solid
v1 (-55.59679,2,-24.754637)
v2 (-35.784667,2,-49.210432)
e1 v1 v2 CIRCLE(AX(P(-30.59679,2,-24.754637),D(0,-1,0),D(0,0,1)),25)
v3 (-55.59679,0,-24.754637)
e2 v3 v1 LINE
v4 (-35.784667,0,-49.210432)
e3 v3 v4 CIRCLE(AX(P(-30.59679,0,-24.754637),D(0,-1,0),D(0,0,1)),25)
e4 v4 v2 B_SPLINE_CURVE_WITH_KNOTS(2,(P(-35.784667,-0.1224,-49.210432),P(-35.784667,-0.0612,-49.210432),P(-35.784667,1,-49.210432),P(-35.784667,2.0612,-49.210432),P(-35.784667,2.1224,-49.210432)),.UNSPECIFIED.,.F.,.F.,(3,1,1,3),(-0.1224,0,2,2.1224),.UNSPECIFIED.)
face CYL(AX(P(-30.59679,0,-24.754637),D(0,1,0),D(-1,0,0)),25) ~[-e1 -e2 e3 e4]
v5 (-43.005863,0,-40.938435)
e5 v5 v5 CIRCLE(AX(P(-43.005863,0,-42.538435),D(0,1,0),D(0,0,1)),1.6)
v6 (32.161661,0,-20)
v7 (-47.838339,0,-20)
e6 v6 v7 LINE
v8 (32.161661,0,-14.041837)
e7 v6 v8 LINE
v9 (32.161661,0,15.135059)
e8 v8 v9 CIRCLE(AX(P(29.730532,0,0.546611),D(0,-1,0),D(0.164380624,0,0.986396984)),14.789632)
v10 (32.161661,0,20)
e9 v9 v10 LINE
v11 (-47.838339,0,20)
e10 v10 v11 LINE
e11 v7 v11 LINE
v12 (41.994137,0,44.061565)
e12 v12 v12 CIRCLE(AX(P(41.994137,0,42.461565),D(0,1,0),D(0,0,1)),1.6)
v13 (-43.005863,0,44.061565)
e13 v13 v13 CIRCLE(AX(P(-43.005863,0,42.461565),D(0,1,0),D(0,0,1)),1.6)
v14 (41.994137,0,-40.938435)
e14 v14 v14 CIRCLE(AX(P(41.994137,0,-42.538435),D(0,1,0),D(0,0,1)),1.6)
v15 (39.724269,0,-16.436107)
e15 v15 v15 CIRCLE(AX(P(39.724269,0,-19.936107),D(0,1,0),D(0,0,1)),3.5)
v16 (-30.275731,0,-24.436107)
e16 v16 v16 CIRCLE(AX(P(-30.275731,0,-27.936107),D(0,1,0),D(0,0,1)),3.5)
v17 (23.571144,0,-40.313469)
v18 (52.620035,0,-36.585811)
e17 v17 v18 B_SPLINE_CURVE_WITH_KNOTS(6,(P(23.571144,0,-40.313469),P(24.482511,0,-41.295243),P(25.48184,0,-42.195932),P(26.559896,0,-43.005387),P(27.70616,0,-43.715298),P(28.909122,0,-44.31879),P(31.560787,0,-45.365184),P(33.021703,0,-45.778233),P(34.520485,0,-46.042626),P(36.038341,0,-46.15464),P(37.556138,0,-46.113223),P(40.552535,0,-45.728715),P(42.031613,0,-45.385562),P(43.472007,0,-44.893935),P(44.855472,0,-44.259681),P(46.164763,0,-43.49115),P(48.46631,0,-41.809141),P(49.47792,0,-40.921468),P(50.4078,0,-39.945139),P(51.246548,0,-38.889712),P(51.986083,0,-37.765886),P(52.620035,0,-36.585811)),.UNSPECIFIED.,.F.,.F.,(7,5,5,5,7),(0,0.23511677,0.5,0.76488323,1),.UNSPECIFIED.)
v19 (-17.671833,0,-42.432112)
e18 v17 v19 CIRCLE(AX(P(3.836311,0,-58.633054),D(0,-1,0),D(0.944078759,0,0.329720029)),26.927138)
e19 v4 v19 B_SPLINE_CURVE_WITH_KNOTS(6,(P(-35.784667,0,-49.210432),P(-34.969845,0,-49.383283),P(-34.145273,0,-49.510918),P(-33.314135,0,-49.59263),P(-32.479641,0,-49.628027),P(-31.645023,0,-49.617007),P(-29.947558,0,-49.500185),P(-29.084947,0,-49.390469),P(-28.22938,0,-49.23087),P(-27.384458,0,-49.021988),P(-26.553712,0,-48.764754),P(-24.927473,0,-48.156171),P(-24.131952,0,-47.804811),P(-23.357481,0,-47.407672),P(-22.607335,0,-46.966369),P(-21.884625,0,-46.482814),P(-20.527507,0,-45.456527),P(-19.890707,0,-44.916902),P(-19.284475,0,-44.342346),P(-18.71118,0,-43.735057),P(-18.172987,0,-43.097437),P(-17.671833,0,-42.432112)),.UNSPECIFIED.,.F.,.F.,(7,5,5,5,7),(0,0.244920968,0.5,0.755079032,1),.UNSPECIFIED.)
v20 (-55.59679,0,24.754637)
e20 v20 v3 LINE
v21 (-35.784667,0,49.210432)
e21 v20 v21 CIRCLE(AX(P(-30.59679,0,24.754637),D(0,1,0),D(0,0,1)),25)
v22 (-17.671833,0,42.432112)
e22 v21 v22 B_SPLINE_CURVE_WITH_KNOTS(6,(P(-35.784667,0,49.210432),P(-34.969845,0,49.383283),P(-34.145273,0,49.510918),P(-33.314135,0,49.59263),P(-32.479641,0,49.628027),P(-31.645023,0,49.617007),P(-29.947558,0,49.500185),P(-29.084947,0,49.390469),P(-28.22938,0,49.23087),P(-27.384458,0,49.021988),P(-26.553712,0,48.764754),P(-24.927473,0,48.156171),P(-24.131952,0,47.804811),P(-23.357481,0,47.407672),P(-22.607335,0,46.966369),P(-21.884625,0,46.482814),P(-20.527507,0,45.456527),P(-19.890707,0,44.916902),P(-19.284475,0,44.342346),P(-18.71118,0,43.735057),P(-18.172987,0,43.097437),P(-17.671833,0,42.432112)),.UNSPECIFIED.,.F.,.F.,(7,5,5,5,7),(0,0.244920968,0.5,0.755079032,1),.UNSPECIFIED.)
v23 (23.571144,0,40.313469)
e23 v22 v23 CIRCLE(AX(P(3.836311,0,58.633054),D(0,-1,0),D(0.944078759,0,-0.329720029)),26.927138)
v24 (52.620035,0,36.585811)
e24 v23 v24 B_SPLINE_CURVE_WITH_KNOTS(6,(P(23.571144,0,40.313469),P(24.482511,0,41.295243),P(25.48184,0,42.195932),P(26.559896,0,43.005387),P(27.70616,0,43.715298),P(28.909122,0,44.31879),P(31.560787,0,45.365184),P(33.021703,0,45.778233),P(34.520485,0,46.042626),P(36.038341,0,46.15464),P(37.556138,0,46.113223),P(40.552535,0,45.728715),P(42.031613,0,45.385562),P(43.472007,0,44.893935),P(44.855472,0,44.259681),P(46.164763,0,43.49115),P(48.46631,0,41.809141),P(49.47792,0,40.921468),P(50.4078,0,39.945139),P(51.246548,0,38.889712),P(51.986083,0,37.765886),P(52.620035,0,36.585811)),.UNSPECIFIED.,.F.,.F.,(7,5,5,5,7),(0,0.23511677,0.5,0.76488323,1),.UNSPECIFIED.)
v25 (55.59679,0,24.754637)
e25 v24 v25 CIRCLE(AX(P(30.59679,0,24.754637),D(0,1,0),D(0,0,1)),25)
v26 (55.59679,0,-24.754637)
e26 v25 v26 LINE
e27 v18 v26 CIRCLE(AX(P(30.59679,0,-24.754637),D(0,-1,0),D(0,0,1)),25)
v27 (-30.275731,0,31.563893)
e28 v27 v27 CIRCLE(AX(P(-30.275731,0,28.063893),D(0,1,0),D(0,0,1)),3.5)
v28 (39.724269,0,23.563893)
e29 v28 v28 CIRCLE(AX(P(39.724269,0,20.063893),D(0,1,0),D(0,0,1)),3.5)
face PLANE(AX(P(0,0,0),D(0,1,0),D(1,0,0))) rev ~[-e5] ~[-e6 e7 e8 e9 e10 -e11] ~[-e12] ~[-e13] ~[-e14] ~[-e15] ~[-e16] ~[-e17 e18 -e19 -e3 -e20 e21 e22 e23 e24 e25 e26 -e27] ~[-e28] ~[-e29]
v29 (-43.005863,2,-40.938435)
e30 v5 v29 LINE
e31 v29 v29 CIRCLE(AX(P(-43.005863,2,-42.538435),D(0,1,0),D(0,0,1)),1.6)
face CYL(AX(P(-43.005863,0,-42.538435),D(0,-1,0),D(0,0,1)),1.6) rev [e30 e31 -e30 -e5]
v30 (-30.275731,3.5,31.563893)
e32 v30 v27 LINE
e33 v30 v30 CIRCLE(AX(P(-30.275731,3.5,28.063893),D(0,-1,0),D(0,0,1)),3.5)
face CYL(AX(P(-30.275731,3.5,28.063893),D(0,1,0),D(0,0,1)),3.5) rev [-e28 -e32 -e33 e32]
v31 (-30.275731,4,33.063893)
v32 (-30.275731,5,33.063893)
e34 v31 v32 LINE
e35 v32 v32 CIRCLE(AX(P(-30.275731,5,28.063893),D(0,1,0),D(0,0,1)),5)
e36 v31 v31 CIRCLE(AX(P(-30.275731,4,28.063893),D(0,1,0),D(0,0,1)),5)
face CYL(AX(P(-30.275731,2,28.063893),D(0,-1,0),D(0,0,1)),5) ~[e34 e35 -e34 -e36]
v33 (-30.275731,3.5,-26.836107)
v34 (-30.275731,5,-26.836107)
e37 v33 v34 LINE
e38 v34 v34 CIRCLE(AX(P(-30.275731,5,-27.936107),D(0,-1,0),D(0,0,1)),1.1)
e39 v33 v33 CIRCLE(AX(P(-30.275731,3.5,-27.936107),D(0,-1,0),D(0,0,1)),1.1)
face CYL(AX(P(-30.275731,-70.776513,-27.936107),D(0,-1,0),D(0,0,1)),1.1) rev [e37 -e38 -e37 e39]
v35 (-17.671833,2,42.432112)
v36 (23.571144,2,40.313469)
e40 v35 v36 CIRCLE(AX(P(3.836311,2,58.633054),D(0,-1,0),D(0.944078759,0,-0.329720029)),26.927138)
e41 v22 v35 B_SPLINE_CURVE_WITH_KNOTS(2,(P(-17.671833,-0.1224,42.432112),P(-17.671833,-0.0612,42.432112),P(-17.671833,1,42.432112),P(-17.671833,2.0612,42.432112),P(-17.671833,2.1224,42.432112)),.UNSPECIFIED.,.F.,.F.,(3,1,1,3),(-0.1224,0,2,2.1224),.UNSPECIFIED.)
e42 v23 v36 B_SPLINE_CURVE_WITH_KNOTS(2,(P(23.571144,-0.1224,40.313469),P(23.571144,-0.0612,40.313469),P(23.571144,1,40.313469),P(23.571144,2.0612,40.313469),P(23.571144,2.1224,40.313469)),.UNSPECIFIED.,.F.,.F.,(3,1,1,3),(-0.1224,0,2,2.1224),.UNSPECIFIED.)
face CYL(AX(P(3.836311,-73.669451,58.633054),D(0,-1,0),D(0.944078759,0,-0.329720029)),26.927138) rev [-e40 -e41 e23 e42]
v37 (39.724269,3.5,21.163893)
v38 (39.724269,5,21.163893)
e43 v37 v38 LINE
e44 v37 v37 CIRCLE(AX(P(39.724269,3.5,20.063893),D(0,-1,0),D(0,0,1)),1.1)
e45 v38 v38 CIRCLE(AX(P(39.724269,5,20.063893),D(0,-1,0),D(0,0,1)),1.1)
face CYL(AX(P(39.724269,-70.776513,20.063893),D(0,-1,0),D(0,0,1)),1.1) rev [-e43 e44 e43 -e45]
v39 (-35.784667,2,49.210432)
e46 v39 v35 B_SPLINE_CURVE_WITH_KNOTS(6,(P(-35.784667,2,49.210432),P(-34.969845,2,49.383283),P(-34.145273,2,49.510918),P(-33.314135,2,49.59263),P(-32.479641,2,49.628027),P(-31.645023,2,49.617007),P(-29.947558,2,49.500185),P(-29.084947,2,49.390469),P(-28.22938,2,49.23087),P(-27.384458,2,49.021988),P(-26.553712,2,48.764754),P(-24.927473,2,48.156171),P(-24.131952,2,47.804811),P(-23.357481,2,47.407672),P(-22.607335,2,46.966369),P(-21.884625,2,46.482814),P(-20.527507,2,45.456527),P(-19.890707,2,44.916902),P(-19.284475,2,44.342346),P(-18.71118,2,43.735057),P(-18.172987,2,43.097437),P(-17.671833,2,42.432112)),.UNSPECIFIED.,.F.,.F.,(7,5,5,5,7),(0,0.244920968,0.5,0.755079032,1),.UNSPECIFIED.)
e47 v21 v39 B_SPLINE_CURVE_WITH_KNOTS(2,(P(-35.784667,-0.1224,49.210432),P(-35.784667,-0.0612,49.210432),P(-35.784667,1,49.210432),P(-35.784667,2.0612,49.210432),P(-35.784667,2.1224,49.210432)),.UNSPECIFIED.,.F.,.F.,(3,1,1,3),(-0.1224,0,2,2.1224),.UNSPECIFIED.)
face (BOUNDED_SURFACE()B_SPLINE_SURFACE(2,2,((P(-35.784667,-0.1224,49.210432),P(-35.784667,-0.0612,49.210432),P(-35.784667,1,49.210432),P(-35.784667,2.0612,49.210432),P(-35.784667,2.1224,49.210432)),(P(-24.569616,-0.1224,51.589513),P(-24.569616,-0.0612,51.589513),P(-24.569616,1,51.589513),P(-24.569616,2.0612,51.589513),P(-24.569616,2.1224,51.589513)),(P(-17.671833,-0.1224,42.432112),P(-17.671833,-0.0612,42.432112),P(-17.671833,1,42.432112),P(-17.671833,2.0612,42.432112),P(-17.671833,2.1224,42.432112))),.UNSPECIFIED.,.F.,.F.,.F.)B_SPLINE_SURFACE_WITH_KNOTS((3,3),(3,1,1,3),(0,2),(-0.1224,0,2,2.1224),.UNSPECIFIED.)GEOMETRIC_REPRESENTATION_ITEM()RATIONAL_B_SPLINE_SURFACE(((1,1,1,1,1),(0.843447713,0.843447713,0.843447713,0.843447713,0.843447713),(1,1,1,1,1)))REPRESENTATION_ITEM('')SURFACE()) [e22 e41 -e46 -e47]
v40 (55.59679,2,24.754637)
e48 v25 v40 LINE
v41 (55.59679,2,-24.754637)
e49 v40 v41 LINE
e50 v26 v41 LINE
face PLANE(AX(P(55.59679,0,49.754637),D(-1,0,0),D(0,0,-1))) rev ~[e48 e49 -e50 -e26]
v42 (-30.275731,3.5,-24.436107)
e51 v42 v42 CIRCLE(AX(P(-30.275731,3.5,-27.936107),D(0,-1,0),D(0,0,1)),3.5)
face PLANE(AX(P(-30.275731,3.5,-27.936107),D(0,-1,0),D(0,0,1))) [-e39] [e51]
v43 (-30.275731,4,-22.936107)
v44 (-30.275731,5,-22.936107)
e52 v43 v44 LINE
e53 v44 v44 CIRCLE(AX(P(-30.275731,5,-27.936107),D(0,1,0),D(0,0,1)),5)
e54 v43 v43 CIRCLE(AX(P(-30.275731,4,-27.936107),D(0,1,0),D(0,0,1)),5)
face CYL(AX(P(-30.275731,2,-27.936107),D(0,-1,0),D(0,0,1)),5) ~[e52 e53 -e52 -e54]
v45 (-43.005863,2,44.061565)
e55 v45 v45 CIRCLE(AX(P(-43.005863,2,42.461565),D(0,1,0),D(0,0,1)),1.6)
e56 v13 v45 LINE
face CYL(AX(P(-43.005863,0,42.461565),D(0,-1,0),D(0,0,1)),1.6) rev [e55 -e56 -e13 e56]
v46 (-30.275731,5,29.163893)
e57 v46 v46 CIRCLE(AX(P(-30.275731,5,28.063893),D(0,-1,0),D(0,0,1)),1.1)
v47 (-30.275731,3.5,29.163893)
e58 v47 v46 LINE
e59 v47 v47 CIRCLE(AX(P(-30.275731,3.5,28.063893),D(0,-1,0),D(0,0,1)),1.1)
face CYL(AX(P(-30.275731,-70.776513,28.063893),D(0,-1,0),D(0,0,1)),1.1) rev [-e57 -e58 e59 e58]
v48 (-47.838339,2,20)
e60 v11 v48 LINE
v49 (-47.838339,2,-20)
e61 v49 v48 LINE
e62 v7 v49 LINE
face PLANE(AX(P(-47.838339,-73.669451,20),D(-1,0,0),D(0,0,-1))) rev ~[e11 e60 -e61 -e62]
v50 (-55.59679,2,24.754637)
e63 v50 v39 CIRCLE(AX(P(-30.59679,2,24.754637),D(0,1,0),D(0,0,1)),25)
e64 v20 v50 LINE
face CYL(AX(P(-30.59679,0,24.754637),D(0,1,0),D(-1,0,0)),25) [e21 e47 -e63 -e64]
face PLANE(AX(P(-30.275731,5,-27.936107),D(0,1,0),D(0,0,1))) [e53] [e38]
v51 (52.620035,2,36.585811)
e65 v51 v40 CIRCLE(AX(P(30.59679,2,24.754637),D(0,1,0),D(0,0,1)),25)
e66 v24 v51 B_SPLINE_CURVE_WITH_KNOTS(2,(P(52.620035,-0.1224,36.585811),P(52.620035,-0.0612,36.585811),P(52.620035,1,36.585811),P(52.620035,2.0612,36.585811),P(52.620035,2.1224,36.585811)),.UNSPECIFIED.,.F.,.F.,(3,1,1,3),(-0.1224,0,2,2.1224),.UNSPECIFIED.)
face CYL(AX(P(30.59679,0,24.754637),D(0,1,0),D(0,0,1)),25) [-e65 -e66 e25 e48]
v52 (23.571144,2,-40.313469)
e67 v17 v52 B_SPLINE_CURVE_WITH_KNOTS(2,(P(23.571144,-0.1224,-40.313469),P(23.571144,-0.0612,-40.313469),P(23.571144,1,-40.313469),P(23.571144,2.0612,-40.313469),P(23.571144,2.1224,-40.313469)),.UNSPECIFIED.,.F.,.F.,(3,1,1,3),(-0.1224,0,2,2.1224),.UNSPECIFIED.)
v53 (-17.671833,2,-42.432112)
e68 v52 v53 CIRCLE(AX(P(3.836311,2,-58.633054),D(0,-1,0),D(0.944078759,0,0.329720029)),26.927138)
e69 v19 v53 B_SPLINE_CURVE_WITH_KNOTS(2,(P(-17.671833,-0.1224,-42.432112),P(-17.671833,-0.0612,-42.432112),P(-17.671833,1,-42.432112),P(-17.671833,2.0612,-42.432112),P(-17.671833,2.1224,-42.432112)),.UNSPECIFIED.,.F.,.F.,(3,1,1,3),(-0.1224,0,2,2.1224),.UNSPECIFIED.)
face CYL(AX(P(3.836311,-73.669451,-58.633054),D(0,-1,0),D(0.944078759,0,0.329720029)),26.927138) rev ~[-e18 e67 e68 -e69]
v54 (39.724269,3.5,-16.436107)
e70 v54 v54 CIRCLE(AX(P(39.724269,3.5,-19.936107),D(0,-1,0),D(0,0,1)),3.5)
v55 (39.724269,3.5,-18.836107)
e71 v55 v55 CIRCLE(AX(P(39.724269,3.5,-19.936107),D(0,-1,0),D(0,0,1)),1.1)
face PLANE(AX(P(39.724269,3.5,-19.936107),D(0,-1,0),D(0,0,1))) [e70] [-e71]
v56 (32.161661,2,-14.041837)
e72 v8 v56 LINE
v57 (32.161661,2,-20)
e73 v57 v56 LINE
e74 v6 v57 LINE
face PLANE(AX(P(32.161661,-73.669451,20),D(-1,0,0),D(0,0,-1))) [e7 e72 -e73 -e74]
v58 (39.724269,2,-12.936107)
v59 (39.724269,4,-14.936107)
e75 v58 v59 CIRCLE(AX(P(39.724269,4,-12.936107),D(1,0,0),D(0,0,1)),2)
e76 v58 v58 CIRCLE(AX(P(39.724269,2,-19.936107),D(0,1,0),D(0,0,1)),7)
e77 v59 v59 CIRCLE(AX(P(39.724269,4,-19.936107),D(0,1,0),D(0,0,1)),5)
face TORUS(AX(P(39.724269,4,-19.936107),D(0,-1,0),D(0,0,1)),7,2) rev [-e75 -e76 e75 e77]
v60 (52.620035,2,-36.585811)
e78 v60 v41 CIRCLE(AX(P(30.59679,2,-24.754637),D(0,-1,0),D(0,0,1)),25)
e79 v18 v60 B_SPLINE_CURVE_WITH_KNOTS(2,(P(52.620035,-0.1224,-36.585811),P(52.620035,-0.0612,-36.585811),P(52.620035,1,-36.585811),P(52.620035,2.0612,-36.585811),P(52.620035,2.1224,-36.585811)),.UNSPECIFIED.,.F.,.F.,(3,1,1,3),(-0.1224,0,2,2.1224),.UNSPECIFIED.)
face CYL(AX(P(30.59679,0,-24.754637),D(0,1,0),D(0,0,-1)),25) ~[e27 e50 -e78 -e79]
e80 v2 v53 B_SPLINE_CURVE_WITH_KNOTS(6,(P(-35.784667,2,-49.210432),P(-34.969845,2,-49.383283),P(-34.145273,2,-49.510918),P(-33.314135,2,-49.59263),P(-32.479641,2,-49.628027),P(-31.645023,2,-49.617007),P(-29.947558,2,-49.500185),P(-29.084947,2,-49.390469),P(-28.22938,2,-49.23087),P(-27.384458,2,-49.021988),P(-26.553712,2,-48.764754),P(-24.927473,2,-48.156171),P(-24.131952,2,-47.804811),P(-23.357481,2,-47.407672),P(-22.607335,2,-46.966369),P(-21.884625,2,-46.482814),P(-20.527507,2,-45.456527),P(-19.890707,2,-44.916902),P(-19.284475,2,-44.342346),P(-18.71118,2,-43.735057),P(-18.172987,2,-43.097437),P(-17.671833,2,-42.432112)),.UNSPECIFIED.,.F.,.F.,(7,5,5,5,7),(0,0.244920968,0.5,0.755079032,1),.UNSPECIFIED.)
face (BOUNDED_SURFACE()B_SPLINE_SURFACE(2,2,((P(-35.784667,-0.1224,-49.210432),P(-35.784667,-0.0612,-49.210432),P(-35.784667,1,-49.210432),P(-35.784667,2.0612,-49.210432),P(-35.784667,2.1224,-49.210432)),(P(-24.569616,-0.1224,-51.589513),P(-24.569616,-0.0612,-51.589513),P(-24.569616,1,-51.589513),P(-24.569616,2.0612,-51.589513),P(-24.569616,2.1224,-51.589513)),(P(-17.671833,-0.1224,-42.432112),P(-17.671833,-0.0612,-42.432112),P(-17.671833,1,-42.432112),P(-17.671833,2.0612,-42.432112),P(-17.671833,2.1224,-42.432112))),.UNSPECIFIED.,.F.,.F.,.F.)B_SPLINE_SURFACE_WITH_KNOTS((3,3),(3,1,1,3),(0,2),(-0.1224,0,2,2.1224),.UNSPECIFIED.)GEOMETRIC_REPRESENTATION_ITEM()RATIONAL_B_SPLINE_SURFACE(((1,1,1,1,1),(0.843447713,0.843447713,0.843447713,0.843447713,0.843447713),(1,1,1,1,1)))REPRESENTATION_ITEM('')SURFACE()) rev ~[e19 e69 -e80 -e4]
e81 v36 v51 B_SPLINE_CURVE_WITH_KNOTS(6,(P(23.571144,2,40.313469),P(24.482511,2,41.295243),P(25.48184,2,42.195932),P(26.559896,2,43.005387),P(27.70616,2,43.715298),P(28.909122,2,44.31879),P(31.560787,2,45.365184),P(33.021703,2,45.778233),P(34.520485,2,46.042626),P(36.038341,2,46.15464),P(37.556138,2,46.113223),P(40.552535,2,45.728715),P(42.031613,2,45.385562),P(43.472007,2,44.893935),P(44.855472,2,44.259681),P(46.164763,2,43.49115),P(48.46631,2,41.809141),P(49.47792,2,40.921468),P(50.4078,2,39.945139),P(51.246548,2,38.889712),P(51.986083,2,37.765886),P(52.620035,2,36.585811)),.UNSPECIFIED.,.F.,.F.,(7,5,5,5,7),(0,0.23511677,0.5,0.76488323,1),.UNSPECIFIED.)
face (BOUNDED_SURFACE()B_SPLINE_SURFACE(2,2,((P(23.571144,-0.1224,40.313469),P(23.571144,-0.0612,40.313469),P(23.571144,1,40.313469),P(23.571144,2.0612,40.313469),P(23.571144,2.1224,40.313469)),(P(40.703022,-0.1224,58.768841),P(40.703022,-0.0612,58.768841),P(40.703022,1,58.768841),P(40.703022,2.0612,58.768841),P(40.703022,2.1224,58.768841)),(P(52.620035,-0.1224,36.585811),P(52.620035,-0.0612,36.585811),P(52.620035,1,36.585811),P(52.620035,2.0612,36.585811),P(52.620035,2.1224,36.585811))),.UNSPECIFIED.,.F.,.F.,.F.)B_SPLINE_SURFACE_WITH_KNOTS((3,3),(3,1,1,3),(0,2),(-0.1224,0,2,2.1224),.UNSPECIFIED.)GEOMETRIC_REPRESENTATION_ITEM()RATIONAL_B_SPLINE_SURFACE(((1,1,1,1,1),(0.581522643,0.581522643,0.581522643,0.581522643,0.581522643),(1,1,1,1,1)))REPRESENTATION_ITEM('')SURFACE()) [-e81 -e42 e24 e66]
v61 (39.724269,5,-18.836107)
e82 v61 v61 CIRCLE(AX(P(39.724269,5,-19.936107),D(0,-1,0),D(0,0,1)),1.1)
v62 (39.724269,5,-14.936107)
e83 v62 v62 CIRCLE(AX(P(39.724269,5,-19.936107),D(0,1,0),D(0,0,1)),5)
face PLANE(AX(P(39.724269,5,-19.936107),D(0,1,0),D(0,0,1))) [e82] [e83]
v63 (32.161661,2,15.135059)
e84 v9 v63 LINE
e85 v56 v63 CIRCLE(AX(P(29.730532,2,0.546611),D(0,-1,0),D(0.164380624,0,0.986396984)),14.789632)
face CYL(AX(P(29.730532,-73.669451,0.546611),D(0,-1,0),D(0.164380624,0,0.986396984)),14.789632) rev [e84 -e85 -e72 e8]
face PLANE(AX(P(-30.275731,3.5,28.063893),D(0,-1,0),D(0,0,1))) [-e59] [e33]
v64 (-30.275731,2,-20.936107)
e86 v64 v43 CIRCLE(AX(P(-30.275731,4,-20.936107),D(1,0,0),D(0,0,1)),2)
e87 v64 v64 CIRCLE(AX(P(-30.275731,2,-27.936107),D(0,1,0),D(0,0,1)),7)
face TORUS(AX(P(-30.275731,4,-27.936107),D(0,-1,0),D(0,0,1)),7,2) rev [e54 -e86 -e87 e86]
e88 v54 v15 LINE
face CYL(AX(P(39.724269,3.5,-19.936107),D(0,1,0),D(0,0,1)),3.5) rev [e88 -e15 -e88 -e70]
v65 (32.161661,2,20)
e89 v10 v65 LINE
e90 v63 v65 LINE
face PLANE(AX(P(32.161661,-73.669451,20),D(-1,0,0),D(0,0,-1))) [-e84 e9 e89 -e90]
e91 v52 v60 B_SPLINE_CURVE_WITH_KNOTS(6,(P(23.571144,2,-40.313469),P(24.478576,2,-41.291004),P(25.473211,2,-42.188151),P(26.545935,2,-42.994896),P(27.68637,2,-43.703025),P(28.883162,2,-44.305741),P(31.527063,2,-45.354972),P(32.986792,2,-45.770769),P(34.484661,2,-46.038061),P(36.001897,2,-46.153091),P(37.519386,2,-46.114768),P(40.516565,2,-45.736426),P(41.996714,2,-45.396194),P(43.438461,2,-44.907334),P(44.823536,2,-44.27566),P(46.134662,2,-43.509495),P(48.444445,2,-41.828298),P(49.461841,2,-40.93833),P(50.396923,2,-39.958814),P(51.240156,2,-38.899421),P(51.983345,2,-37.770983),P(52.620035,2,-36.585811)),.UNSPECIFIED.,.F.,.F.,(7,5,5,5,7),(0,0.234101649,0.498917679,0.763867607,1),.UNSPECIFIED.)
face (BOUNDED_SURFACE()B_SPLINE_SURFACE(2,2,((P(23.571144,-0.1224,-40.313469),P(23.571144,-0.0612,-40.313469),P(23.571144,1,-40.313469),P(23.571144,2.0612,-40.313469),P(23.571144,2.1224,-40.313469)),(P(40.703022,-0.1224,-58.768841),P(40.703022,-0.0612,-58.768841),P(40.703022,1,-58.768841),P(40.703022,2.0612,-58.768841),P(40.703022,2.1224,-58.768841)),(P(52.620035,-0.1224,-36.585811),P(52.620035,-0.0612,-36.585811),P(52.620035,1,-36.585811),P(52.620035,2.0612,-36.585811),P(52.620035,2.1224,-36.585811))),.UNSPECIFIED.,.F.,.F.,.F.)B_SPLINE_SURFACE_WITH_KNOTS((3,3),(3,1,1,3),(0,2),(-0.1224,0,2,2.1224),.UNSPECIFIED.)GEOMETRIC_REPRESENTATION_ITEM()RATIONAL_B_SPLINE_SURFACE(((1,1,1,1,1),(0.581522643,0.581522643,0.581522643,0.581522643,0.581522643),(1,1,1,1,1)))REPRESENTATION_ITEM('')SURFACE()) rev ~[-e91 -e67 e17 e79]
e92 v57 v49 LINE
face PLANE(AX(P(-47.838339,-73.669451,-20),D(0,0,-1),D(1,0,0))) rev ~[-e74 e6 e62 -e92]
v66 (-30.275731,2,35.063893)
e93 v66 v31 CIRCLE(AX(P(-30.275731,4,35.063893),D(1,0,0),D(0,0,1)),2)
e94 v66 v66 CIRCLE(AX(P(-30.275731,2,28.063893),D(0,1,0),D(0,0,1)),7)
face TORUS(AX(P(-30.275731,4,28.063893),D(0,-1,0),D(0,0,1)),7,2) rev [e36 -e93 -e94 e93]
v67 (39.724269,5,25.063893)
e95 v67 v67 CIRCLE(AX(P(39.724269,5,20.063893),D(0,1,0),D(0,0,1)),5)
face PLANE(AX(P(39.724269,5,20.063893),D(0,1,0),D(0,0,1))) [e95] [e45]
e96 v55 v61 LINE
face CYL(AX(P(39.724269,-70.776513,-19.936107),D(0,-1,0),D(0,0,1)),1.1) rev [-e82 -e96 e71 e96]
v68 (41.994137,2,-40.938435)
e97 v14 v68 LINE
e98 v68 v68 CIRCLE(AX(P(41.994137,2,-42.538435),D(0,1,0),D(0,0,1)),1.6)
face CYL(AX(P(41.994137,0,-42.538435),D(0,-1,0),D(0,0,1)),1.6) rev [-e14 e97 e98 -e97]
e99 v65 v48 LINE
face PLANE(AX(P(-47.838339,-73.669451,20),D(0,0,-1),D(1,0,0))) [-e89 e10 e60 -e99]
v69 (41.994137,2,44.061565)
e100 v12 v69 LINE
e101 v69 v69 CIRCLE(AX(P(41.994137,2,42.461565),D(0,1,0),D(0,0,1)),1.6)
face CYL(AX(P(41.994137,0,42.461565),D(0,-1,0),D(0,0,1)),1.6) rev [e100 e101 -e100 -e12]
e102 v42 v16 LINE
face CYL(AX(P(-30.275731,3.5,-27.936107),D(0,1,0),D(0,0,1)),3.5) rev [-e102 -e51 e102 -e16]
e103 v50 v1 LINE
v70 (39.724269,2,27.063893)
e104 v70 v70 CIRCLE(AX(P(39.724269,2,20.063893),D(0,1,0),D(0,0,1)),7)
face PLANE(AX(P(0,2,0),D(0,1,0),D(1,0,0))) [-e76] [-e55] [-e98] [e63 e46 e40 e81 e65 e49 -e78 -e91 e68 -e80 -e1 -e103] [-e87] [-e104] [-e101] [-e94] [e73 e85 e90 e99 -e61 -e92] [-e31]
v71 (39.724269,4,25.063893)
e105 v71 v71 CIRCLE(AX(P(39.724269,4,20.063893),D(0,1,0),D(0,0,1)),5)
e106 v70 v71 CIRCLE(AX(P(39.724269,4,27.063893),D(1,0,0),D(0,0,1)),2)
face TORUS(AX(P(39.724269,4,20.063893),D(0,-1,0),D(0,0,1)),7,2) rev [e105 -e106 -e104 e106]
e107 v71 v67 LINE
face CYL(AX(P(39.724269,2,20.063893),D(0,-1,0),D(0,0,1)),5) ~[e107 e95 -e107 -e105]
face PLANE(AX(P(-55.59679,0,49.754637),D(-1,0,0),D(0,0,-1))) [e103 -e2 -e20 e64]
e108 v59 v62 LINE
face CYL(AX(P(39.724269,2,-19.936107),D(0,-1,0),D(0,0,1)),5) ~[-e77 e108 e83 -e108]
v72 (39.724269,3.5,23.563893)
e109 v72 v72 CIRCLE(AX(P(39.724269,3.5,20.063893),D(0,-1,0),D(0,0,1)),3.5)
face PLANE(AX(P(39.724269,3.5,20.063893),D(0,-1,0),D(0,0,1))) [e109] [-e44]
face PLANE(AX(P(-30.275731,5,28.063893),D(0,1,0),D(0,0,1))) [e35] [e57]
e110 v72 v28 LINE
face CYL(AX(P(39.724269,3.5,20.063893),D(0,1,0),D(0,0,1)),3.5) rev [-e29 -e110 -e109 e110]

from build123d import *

# Parameters (mm, degrees)
SKETCH1_W               = 111.193579624
SKETCH1_H               = 99.509273796
SKETCH1_R               = 1.6
BOSS_EXTRUDE1_DEPTH     = 2
SKETCH2_R               = 5
BOSS_EXTRUDE2_DEPTH     = 3
CUT_EXTRUDE2_DEPTH      = 75.776513226
CUT_EXTRUDE2_DEPTH_BACK = 75.776513226
SKETCH3_R               = 1.1
CUT_EXTRUDE3_DEPTH      = 75.776513226
CUT_EXTRUDE3_DEPTH_BACK = 3.5
SKETCH4_R               = 3.5
FILLET1_R               = 25
CUT_EXTRUDE4_DEPTH      = 75.669451118
CUT_EXTRUDE4_DEPTH_BACK = 75.669451118
SKETCH5_W               = 80
SKETCH5_H               = 40
CUT_EXTRUDE5_DEPTH      = 75.669451118
CUT_EXTRUDE5_DEPTH_BACK = 75.669451118
CUT_EXTRUDE6_DEPTH      = 75.669451118
CUT_EXTRUDE6_DEPTH_BACK = 75.669451118
FILLET3_R               = 2
FILLET4_R               = 18


with BuildPart() as part:
    # Sketch1 → Boss-Extrude1 (new body)
    with BuildSketch(Plane(origin=(0, 0, 0), x_dir=(1, 0, 0), z_dir=(0, 1, 0))):
        Rectangle(SKETCH1_W, SKETCH1_H)
        with Locations(Location((-43.005863497, 42.538435101, 0), (0, 0, 270))):
            Circle(SKETCH1_R, mode=Mode.SUBTRACT)
        with Locations(Location((41.994136503, 42.538435101, 0), (0, 0, 270))):
            Circle(SKETCH1_R, mode=Mode.SUBTRACT)
        with Locations(Location((41.994136503, -42.461564899, 0), (0, 0, 270))):
            Circle(SKETCH1_R, mode=Mode.SUBTRACT)
        with Locations(Location((-43.005863497, -42.461564899, 0), (0, 0, 270))):
            Circle(SKETCH1_R, mode=Mode.SUBTRACT)
    extrude(amount=BOSS_EXTRUDE1_DEPTH)

    # Sketch2 → Boss-Extrude2 (add)
    with BuildSketch(Plane(origin=(0, 2, 0), x_dir=(1, 0, 0), z_dir=(0, 1, 0))):
        with Locations(Location((-30.275730538, 27.936106549, 0), (0, 0, 270))):
            Circle(SKETCH2_R)
        with Locations(Location((39.724269462, 19.936106549, 0), (0, 0, 270))):
            Circle(SKETCH2_R)
        with Locations(Location((39.724269462, -20.063893451, 0), (0, 0, 270))):
            Circle(SKETCH2_R)
        with Locations(Location((-30.275730538, -28.063893451, 0), (0, 0, 270))):
            Circle(SKETCH2_R)
    extrude(amount=BOSS_EXTRUDE2_DEPTH)

    # Sketch3 → Cut-Extrude2 (cut, two sides: drawn at the far end of the back side and taken through both)
    with BuildSketch(Plane(origin=(0, 5, 0), x_dir=(1, 0, 0), z_dir=(0, 1, 0)).offset(-CUT_EXTRUDE2_DEPTH_BACK)):
        with Locations(Location((-30.275730538, 27.936106549, 0), (0, 0, 270))):
            Circle(SKETCH3_R)
        with Locations(Location((39.724269462, 19.936106549, 0), (0, 0, 270))):
            Circle(SKETCH3_R)
        with Locations(Location((39.724269462, -20.063893451, 0), (0, 0, 270))):
            Circle(SKETCH3_R)
        with Locations(Location((-30.275730538, -28.063893451, 0), (0, 0, 270))):
            Circle(SKETCH3_R)
    extrude(amount=CUT_EXTRUDE2_DEPTH + CUT_EXTRUDE2_DEPTH_BACK, mode=Mode.SUBTRACT)

    # Sketch4 → Cut-Extrude3 (cut, two sides: drawn at the far end of the back side and taken through both)
    with BuildSketch(Plane.XZ.offset(-CUT_EXTRUDE3_DEPTH_BACK)):
        with Locations(Location((-30.275730538, 28.063893451, 0), (0, 0, 90))):
            Circle(SKETCH4_R)
        with Locations(Location((39.724269462, 20.063893451, 0), (0, 0, 90))):
            Circle(SKETCH4_R)
        with Locations(Location((39.724269462, -19.936106549, 0), (0, 0, 90))):
            Circle(SKETCH4_R)
        with Locations(Location((-30.275730538, -27.936106549, 0), (0, 0, 90))):
            Circle(SKETCH4_R)
    extrude(amount=CUT_EXTRUDE3_DEPTH + CUT_EXTRUDE3_DEPTH_BACK, mode=Mode.SUBTRACT)

    # Fillet1
    fillet1_edges = [part.edges().sort_by_distance(p)[0] for p in [
        (-55.596789812, 1, -49.754636898),
        (55.596789812, 1, -49.754636898),
        (55.596789812, 1, 49.754636898),
        (-55.596789812, 1, 49.754636898),
    ]]
    fillet(fillet1_edges, radius=FILLET1_R)

    # Sketch5 → Cut-Extrude4 (cut, two sides: drawn at the far end of the back side and taken through both)
    with BuildSketch(Plane(origin=(0, 2, 0), x_dir=(1, 0, 0), z_dir=(0, 1, 0)).offset(-CUT_EXTRUDE4_DEPTH_BACK)):
        with Locations((-7.838338825, 0)):
            Rectangle(SKETCH5_W, SKETCH5_H)
    extrude(amount=CUT_EXTRUDE4_DEPTH + CUT_EXTRUDE4_DEPTH_BACK, mode=Mode.SUBTRACT)

    # Sketch6 → Cut-Extrude5 (cut, two sides: drawn at the far end of the back side and taken through both)
    with BuildSketch(Plane(origin=(0, 2, 0), x_dir=(1, 0, 0), z_dir=(0, 1, 0)).offset(-CUT_EXTRUDE5_DEPTH_BACK)):
        with BuildLine():
            Line((-21.585028243, -49.754636898), (29.257650702, -49.754636898))
            ThreePointArc((29.257650702, -49.754636898), (3.836311229, -31.705915293), (-21.585028243, -49.754636898))
        make_face()
        with BuildLine():
            Line((-21.585028243, 49.754636898), (29.257650702, 49.754636898))
            ThreePointArc((29.257650702, 49.754636898), (3.836311229, 31.705915293), (-21.585028243, 49.754636898))
        make_face()
    extrude(amount=CUT_EXTRUDE5_DEPTH + CUT_EXTRUDE5_DEPTH_BACK, mode=Mode.SUBTRACT)

    # Sketch7 → Cut-Extrude6 (cut, two sides: drawn at the far end of the back side and taken through both)
    with BuildSketch(Plane(origin=(0, 2, 0), x_dir=(1, 0, 0), z_dir=(0, 1, 0)).offset(-CUT_EXTRUDE6_DEPTH_BACK)):
        with BuildLine():
            Line((32.161661175, 14.041836801), (32.161661175, -15.135059457))
            ThreePointArc((32.161661175, -15.135059457), (44.520164004, -0.546611328), (32.161661175, 14.041836801))
        make_face()
    extrude(amount=CUT_EXTRUDE6_DEPTH + CUT_EXTRUDE6_DEPTH_BACK, mode=Mode.SUBTRACT)

    # Fillet3
    fillet3_edges = [part.edges().sort_by_distance(p)[0] for p in [
        (-30.275730538, 2, -32.936106549),
        (39.724269462, 2, -24.936106549),
        (39.724269462, 2, 15.063893451),
        (-30.275730538, 2, 23.063893451),
    ]]
    fillet(fillet3_edges, radius=FILLET3_R)

    # Fillet4
    fillet4_edges = [part.edges().sort_by_distance(p)[0] for p in [
        (-21.585028243, 1, 49.754636898),
        (29.257650702, 1, 49.754636898),
        (29.257650702, 1, -49.754636898),
        (-21.585028243, 1, -49.754636898),
    ]]
    fillet(fillet4_edges, radius=FILLET4_R)


solid = part.part
